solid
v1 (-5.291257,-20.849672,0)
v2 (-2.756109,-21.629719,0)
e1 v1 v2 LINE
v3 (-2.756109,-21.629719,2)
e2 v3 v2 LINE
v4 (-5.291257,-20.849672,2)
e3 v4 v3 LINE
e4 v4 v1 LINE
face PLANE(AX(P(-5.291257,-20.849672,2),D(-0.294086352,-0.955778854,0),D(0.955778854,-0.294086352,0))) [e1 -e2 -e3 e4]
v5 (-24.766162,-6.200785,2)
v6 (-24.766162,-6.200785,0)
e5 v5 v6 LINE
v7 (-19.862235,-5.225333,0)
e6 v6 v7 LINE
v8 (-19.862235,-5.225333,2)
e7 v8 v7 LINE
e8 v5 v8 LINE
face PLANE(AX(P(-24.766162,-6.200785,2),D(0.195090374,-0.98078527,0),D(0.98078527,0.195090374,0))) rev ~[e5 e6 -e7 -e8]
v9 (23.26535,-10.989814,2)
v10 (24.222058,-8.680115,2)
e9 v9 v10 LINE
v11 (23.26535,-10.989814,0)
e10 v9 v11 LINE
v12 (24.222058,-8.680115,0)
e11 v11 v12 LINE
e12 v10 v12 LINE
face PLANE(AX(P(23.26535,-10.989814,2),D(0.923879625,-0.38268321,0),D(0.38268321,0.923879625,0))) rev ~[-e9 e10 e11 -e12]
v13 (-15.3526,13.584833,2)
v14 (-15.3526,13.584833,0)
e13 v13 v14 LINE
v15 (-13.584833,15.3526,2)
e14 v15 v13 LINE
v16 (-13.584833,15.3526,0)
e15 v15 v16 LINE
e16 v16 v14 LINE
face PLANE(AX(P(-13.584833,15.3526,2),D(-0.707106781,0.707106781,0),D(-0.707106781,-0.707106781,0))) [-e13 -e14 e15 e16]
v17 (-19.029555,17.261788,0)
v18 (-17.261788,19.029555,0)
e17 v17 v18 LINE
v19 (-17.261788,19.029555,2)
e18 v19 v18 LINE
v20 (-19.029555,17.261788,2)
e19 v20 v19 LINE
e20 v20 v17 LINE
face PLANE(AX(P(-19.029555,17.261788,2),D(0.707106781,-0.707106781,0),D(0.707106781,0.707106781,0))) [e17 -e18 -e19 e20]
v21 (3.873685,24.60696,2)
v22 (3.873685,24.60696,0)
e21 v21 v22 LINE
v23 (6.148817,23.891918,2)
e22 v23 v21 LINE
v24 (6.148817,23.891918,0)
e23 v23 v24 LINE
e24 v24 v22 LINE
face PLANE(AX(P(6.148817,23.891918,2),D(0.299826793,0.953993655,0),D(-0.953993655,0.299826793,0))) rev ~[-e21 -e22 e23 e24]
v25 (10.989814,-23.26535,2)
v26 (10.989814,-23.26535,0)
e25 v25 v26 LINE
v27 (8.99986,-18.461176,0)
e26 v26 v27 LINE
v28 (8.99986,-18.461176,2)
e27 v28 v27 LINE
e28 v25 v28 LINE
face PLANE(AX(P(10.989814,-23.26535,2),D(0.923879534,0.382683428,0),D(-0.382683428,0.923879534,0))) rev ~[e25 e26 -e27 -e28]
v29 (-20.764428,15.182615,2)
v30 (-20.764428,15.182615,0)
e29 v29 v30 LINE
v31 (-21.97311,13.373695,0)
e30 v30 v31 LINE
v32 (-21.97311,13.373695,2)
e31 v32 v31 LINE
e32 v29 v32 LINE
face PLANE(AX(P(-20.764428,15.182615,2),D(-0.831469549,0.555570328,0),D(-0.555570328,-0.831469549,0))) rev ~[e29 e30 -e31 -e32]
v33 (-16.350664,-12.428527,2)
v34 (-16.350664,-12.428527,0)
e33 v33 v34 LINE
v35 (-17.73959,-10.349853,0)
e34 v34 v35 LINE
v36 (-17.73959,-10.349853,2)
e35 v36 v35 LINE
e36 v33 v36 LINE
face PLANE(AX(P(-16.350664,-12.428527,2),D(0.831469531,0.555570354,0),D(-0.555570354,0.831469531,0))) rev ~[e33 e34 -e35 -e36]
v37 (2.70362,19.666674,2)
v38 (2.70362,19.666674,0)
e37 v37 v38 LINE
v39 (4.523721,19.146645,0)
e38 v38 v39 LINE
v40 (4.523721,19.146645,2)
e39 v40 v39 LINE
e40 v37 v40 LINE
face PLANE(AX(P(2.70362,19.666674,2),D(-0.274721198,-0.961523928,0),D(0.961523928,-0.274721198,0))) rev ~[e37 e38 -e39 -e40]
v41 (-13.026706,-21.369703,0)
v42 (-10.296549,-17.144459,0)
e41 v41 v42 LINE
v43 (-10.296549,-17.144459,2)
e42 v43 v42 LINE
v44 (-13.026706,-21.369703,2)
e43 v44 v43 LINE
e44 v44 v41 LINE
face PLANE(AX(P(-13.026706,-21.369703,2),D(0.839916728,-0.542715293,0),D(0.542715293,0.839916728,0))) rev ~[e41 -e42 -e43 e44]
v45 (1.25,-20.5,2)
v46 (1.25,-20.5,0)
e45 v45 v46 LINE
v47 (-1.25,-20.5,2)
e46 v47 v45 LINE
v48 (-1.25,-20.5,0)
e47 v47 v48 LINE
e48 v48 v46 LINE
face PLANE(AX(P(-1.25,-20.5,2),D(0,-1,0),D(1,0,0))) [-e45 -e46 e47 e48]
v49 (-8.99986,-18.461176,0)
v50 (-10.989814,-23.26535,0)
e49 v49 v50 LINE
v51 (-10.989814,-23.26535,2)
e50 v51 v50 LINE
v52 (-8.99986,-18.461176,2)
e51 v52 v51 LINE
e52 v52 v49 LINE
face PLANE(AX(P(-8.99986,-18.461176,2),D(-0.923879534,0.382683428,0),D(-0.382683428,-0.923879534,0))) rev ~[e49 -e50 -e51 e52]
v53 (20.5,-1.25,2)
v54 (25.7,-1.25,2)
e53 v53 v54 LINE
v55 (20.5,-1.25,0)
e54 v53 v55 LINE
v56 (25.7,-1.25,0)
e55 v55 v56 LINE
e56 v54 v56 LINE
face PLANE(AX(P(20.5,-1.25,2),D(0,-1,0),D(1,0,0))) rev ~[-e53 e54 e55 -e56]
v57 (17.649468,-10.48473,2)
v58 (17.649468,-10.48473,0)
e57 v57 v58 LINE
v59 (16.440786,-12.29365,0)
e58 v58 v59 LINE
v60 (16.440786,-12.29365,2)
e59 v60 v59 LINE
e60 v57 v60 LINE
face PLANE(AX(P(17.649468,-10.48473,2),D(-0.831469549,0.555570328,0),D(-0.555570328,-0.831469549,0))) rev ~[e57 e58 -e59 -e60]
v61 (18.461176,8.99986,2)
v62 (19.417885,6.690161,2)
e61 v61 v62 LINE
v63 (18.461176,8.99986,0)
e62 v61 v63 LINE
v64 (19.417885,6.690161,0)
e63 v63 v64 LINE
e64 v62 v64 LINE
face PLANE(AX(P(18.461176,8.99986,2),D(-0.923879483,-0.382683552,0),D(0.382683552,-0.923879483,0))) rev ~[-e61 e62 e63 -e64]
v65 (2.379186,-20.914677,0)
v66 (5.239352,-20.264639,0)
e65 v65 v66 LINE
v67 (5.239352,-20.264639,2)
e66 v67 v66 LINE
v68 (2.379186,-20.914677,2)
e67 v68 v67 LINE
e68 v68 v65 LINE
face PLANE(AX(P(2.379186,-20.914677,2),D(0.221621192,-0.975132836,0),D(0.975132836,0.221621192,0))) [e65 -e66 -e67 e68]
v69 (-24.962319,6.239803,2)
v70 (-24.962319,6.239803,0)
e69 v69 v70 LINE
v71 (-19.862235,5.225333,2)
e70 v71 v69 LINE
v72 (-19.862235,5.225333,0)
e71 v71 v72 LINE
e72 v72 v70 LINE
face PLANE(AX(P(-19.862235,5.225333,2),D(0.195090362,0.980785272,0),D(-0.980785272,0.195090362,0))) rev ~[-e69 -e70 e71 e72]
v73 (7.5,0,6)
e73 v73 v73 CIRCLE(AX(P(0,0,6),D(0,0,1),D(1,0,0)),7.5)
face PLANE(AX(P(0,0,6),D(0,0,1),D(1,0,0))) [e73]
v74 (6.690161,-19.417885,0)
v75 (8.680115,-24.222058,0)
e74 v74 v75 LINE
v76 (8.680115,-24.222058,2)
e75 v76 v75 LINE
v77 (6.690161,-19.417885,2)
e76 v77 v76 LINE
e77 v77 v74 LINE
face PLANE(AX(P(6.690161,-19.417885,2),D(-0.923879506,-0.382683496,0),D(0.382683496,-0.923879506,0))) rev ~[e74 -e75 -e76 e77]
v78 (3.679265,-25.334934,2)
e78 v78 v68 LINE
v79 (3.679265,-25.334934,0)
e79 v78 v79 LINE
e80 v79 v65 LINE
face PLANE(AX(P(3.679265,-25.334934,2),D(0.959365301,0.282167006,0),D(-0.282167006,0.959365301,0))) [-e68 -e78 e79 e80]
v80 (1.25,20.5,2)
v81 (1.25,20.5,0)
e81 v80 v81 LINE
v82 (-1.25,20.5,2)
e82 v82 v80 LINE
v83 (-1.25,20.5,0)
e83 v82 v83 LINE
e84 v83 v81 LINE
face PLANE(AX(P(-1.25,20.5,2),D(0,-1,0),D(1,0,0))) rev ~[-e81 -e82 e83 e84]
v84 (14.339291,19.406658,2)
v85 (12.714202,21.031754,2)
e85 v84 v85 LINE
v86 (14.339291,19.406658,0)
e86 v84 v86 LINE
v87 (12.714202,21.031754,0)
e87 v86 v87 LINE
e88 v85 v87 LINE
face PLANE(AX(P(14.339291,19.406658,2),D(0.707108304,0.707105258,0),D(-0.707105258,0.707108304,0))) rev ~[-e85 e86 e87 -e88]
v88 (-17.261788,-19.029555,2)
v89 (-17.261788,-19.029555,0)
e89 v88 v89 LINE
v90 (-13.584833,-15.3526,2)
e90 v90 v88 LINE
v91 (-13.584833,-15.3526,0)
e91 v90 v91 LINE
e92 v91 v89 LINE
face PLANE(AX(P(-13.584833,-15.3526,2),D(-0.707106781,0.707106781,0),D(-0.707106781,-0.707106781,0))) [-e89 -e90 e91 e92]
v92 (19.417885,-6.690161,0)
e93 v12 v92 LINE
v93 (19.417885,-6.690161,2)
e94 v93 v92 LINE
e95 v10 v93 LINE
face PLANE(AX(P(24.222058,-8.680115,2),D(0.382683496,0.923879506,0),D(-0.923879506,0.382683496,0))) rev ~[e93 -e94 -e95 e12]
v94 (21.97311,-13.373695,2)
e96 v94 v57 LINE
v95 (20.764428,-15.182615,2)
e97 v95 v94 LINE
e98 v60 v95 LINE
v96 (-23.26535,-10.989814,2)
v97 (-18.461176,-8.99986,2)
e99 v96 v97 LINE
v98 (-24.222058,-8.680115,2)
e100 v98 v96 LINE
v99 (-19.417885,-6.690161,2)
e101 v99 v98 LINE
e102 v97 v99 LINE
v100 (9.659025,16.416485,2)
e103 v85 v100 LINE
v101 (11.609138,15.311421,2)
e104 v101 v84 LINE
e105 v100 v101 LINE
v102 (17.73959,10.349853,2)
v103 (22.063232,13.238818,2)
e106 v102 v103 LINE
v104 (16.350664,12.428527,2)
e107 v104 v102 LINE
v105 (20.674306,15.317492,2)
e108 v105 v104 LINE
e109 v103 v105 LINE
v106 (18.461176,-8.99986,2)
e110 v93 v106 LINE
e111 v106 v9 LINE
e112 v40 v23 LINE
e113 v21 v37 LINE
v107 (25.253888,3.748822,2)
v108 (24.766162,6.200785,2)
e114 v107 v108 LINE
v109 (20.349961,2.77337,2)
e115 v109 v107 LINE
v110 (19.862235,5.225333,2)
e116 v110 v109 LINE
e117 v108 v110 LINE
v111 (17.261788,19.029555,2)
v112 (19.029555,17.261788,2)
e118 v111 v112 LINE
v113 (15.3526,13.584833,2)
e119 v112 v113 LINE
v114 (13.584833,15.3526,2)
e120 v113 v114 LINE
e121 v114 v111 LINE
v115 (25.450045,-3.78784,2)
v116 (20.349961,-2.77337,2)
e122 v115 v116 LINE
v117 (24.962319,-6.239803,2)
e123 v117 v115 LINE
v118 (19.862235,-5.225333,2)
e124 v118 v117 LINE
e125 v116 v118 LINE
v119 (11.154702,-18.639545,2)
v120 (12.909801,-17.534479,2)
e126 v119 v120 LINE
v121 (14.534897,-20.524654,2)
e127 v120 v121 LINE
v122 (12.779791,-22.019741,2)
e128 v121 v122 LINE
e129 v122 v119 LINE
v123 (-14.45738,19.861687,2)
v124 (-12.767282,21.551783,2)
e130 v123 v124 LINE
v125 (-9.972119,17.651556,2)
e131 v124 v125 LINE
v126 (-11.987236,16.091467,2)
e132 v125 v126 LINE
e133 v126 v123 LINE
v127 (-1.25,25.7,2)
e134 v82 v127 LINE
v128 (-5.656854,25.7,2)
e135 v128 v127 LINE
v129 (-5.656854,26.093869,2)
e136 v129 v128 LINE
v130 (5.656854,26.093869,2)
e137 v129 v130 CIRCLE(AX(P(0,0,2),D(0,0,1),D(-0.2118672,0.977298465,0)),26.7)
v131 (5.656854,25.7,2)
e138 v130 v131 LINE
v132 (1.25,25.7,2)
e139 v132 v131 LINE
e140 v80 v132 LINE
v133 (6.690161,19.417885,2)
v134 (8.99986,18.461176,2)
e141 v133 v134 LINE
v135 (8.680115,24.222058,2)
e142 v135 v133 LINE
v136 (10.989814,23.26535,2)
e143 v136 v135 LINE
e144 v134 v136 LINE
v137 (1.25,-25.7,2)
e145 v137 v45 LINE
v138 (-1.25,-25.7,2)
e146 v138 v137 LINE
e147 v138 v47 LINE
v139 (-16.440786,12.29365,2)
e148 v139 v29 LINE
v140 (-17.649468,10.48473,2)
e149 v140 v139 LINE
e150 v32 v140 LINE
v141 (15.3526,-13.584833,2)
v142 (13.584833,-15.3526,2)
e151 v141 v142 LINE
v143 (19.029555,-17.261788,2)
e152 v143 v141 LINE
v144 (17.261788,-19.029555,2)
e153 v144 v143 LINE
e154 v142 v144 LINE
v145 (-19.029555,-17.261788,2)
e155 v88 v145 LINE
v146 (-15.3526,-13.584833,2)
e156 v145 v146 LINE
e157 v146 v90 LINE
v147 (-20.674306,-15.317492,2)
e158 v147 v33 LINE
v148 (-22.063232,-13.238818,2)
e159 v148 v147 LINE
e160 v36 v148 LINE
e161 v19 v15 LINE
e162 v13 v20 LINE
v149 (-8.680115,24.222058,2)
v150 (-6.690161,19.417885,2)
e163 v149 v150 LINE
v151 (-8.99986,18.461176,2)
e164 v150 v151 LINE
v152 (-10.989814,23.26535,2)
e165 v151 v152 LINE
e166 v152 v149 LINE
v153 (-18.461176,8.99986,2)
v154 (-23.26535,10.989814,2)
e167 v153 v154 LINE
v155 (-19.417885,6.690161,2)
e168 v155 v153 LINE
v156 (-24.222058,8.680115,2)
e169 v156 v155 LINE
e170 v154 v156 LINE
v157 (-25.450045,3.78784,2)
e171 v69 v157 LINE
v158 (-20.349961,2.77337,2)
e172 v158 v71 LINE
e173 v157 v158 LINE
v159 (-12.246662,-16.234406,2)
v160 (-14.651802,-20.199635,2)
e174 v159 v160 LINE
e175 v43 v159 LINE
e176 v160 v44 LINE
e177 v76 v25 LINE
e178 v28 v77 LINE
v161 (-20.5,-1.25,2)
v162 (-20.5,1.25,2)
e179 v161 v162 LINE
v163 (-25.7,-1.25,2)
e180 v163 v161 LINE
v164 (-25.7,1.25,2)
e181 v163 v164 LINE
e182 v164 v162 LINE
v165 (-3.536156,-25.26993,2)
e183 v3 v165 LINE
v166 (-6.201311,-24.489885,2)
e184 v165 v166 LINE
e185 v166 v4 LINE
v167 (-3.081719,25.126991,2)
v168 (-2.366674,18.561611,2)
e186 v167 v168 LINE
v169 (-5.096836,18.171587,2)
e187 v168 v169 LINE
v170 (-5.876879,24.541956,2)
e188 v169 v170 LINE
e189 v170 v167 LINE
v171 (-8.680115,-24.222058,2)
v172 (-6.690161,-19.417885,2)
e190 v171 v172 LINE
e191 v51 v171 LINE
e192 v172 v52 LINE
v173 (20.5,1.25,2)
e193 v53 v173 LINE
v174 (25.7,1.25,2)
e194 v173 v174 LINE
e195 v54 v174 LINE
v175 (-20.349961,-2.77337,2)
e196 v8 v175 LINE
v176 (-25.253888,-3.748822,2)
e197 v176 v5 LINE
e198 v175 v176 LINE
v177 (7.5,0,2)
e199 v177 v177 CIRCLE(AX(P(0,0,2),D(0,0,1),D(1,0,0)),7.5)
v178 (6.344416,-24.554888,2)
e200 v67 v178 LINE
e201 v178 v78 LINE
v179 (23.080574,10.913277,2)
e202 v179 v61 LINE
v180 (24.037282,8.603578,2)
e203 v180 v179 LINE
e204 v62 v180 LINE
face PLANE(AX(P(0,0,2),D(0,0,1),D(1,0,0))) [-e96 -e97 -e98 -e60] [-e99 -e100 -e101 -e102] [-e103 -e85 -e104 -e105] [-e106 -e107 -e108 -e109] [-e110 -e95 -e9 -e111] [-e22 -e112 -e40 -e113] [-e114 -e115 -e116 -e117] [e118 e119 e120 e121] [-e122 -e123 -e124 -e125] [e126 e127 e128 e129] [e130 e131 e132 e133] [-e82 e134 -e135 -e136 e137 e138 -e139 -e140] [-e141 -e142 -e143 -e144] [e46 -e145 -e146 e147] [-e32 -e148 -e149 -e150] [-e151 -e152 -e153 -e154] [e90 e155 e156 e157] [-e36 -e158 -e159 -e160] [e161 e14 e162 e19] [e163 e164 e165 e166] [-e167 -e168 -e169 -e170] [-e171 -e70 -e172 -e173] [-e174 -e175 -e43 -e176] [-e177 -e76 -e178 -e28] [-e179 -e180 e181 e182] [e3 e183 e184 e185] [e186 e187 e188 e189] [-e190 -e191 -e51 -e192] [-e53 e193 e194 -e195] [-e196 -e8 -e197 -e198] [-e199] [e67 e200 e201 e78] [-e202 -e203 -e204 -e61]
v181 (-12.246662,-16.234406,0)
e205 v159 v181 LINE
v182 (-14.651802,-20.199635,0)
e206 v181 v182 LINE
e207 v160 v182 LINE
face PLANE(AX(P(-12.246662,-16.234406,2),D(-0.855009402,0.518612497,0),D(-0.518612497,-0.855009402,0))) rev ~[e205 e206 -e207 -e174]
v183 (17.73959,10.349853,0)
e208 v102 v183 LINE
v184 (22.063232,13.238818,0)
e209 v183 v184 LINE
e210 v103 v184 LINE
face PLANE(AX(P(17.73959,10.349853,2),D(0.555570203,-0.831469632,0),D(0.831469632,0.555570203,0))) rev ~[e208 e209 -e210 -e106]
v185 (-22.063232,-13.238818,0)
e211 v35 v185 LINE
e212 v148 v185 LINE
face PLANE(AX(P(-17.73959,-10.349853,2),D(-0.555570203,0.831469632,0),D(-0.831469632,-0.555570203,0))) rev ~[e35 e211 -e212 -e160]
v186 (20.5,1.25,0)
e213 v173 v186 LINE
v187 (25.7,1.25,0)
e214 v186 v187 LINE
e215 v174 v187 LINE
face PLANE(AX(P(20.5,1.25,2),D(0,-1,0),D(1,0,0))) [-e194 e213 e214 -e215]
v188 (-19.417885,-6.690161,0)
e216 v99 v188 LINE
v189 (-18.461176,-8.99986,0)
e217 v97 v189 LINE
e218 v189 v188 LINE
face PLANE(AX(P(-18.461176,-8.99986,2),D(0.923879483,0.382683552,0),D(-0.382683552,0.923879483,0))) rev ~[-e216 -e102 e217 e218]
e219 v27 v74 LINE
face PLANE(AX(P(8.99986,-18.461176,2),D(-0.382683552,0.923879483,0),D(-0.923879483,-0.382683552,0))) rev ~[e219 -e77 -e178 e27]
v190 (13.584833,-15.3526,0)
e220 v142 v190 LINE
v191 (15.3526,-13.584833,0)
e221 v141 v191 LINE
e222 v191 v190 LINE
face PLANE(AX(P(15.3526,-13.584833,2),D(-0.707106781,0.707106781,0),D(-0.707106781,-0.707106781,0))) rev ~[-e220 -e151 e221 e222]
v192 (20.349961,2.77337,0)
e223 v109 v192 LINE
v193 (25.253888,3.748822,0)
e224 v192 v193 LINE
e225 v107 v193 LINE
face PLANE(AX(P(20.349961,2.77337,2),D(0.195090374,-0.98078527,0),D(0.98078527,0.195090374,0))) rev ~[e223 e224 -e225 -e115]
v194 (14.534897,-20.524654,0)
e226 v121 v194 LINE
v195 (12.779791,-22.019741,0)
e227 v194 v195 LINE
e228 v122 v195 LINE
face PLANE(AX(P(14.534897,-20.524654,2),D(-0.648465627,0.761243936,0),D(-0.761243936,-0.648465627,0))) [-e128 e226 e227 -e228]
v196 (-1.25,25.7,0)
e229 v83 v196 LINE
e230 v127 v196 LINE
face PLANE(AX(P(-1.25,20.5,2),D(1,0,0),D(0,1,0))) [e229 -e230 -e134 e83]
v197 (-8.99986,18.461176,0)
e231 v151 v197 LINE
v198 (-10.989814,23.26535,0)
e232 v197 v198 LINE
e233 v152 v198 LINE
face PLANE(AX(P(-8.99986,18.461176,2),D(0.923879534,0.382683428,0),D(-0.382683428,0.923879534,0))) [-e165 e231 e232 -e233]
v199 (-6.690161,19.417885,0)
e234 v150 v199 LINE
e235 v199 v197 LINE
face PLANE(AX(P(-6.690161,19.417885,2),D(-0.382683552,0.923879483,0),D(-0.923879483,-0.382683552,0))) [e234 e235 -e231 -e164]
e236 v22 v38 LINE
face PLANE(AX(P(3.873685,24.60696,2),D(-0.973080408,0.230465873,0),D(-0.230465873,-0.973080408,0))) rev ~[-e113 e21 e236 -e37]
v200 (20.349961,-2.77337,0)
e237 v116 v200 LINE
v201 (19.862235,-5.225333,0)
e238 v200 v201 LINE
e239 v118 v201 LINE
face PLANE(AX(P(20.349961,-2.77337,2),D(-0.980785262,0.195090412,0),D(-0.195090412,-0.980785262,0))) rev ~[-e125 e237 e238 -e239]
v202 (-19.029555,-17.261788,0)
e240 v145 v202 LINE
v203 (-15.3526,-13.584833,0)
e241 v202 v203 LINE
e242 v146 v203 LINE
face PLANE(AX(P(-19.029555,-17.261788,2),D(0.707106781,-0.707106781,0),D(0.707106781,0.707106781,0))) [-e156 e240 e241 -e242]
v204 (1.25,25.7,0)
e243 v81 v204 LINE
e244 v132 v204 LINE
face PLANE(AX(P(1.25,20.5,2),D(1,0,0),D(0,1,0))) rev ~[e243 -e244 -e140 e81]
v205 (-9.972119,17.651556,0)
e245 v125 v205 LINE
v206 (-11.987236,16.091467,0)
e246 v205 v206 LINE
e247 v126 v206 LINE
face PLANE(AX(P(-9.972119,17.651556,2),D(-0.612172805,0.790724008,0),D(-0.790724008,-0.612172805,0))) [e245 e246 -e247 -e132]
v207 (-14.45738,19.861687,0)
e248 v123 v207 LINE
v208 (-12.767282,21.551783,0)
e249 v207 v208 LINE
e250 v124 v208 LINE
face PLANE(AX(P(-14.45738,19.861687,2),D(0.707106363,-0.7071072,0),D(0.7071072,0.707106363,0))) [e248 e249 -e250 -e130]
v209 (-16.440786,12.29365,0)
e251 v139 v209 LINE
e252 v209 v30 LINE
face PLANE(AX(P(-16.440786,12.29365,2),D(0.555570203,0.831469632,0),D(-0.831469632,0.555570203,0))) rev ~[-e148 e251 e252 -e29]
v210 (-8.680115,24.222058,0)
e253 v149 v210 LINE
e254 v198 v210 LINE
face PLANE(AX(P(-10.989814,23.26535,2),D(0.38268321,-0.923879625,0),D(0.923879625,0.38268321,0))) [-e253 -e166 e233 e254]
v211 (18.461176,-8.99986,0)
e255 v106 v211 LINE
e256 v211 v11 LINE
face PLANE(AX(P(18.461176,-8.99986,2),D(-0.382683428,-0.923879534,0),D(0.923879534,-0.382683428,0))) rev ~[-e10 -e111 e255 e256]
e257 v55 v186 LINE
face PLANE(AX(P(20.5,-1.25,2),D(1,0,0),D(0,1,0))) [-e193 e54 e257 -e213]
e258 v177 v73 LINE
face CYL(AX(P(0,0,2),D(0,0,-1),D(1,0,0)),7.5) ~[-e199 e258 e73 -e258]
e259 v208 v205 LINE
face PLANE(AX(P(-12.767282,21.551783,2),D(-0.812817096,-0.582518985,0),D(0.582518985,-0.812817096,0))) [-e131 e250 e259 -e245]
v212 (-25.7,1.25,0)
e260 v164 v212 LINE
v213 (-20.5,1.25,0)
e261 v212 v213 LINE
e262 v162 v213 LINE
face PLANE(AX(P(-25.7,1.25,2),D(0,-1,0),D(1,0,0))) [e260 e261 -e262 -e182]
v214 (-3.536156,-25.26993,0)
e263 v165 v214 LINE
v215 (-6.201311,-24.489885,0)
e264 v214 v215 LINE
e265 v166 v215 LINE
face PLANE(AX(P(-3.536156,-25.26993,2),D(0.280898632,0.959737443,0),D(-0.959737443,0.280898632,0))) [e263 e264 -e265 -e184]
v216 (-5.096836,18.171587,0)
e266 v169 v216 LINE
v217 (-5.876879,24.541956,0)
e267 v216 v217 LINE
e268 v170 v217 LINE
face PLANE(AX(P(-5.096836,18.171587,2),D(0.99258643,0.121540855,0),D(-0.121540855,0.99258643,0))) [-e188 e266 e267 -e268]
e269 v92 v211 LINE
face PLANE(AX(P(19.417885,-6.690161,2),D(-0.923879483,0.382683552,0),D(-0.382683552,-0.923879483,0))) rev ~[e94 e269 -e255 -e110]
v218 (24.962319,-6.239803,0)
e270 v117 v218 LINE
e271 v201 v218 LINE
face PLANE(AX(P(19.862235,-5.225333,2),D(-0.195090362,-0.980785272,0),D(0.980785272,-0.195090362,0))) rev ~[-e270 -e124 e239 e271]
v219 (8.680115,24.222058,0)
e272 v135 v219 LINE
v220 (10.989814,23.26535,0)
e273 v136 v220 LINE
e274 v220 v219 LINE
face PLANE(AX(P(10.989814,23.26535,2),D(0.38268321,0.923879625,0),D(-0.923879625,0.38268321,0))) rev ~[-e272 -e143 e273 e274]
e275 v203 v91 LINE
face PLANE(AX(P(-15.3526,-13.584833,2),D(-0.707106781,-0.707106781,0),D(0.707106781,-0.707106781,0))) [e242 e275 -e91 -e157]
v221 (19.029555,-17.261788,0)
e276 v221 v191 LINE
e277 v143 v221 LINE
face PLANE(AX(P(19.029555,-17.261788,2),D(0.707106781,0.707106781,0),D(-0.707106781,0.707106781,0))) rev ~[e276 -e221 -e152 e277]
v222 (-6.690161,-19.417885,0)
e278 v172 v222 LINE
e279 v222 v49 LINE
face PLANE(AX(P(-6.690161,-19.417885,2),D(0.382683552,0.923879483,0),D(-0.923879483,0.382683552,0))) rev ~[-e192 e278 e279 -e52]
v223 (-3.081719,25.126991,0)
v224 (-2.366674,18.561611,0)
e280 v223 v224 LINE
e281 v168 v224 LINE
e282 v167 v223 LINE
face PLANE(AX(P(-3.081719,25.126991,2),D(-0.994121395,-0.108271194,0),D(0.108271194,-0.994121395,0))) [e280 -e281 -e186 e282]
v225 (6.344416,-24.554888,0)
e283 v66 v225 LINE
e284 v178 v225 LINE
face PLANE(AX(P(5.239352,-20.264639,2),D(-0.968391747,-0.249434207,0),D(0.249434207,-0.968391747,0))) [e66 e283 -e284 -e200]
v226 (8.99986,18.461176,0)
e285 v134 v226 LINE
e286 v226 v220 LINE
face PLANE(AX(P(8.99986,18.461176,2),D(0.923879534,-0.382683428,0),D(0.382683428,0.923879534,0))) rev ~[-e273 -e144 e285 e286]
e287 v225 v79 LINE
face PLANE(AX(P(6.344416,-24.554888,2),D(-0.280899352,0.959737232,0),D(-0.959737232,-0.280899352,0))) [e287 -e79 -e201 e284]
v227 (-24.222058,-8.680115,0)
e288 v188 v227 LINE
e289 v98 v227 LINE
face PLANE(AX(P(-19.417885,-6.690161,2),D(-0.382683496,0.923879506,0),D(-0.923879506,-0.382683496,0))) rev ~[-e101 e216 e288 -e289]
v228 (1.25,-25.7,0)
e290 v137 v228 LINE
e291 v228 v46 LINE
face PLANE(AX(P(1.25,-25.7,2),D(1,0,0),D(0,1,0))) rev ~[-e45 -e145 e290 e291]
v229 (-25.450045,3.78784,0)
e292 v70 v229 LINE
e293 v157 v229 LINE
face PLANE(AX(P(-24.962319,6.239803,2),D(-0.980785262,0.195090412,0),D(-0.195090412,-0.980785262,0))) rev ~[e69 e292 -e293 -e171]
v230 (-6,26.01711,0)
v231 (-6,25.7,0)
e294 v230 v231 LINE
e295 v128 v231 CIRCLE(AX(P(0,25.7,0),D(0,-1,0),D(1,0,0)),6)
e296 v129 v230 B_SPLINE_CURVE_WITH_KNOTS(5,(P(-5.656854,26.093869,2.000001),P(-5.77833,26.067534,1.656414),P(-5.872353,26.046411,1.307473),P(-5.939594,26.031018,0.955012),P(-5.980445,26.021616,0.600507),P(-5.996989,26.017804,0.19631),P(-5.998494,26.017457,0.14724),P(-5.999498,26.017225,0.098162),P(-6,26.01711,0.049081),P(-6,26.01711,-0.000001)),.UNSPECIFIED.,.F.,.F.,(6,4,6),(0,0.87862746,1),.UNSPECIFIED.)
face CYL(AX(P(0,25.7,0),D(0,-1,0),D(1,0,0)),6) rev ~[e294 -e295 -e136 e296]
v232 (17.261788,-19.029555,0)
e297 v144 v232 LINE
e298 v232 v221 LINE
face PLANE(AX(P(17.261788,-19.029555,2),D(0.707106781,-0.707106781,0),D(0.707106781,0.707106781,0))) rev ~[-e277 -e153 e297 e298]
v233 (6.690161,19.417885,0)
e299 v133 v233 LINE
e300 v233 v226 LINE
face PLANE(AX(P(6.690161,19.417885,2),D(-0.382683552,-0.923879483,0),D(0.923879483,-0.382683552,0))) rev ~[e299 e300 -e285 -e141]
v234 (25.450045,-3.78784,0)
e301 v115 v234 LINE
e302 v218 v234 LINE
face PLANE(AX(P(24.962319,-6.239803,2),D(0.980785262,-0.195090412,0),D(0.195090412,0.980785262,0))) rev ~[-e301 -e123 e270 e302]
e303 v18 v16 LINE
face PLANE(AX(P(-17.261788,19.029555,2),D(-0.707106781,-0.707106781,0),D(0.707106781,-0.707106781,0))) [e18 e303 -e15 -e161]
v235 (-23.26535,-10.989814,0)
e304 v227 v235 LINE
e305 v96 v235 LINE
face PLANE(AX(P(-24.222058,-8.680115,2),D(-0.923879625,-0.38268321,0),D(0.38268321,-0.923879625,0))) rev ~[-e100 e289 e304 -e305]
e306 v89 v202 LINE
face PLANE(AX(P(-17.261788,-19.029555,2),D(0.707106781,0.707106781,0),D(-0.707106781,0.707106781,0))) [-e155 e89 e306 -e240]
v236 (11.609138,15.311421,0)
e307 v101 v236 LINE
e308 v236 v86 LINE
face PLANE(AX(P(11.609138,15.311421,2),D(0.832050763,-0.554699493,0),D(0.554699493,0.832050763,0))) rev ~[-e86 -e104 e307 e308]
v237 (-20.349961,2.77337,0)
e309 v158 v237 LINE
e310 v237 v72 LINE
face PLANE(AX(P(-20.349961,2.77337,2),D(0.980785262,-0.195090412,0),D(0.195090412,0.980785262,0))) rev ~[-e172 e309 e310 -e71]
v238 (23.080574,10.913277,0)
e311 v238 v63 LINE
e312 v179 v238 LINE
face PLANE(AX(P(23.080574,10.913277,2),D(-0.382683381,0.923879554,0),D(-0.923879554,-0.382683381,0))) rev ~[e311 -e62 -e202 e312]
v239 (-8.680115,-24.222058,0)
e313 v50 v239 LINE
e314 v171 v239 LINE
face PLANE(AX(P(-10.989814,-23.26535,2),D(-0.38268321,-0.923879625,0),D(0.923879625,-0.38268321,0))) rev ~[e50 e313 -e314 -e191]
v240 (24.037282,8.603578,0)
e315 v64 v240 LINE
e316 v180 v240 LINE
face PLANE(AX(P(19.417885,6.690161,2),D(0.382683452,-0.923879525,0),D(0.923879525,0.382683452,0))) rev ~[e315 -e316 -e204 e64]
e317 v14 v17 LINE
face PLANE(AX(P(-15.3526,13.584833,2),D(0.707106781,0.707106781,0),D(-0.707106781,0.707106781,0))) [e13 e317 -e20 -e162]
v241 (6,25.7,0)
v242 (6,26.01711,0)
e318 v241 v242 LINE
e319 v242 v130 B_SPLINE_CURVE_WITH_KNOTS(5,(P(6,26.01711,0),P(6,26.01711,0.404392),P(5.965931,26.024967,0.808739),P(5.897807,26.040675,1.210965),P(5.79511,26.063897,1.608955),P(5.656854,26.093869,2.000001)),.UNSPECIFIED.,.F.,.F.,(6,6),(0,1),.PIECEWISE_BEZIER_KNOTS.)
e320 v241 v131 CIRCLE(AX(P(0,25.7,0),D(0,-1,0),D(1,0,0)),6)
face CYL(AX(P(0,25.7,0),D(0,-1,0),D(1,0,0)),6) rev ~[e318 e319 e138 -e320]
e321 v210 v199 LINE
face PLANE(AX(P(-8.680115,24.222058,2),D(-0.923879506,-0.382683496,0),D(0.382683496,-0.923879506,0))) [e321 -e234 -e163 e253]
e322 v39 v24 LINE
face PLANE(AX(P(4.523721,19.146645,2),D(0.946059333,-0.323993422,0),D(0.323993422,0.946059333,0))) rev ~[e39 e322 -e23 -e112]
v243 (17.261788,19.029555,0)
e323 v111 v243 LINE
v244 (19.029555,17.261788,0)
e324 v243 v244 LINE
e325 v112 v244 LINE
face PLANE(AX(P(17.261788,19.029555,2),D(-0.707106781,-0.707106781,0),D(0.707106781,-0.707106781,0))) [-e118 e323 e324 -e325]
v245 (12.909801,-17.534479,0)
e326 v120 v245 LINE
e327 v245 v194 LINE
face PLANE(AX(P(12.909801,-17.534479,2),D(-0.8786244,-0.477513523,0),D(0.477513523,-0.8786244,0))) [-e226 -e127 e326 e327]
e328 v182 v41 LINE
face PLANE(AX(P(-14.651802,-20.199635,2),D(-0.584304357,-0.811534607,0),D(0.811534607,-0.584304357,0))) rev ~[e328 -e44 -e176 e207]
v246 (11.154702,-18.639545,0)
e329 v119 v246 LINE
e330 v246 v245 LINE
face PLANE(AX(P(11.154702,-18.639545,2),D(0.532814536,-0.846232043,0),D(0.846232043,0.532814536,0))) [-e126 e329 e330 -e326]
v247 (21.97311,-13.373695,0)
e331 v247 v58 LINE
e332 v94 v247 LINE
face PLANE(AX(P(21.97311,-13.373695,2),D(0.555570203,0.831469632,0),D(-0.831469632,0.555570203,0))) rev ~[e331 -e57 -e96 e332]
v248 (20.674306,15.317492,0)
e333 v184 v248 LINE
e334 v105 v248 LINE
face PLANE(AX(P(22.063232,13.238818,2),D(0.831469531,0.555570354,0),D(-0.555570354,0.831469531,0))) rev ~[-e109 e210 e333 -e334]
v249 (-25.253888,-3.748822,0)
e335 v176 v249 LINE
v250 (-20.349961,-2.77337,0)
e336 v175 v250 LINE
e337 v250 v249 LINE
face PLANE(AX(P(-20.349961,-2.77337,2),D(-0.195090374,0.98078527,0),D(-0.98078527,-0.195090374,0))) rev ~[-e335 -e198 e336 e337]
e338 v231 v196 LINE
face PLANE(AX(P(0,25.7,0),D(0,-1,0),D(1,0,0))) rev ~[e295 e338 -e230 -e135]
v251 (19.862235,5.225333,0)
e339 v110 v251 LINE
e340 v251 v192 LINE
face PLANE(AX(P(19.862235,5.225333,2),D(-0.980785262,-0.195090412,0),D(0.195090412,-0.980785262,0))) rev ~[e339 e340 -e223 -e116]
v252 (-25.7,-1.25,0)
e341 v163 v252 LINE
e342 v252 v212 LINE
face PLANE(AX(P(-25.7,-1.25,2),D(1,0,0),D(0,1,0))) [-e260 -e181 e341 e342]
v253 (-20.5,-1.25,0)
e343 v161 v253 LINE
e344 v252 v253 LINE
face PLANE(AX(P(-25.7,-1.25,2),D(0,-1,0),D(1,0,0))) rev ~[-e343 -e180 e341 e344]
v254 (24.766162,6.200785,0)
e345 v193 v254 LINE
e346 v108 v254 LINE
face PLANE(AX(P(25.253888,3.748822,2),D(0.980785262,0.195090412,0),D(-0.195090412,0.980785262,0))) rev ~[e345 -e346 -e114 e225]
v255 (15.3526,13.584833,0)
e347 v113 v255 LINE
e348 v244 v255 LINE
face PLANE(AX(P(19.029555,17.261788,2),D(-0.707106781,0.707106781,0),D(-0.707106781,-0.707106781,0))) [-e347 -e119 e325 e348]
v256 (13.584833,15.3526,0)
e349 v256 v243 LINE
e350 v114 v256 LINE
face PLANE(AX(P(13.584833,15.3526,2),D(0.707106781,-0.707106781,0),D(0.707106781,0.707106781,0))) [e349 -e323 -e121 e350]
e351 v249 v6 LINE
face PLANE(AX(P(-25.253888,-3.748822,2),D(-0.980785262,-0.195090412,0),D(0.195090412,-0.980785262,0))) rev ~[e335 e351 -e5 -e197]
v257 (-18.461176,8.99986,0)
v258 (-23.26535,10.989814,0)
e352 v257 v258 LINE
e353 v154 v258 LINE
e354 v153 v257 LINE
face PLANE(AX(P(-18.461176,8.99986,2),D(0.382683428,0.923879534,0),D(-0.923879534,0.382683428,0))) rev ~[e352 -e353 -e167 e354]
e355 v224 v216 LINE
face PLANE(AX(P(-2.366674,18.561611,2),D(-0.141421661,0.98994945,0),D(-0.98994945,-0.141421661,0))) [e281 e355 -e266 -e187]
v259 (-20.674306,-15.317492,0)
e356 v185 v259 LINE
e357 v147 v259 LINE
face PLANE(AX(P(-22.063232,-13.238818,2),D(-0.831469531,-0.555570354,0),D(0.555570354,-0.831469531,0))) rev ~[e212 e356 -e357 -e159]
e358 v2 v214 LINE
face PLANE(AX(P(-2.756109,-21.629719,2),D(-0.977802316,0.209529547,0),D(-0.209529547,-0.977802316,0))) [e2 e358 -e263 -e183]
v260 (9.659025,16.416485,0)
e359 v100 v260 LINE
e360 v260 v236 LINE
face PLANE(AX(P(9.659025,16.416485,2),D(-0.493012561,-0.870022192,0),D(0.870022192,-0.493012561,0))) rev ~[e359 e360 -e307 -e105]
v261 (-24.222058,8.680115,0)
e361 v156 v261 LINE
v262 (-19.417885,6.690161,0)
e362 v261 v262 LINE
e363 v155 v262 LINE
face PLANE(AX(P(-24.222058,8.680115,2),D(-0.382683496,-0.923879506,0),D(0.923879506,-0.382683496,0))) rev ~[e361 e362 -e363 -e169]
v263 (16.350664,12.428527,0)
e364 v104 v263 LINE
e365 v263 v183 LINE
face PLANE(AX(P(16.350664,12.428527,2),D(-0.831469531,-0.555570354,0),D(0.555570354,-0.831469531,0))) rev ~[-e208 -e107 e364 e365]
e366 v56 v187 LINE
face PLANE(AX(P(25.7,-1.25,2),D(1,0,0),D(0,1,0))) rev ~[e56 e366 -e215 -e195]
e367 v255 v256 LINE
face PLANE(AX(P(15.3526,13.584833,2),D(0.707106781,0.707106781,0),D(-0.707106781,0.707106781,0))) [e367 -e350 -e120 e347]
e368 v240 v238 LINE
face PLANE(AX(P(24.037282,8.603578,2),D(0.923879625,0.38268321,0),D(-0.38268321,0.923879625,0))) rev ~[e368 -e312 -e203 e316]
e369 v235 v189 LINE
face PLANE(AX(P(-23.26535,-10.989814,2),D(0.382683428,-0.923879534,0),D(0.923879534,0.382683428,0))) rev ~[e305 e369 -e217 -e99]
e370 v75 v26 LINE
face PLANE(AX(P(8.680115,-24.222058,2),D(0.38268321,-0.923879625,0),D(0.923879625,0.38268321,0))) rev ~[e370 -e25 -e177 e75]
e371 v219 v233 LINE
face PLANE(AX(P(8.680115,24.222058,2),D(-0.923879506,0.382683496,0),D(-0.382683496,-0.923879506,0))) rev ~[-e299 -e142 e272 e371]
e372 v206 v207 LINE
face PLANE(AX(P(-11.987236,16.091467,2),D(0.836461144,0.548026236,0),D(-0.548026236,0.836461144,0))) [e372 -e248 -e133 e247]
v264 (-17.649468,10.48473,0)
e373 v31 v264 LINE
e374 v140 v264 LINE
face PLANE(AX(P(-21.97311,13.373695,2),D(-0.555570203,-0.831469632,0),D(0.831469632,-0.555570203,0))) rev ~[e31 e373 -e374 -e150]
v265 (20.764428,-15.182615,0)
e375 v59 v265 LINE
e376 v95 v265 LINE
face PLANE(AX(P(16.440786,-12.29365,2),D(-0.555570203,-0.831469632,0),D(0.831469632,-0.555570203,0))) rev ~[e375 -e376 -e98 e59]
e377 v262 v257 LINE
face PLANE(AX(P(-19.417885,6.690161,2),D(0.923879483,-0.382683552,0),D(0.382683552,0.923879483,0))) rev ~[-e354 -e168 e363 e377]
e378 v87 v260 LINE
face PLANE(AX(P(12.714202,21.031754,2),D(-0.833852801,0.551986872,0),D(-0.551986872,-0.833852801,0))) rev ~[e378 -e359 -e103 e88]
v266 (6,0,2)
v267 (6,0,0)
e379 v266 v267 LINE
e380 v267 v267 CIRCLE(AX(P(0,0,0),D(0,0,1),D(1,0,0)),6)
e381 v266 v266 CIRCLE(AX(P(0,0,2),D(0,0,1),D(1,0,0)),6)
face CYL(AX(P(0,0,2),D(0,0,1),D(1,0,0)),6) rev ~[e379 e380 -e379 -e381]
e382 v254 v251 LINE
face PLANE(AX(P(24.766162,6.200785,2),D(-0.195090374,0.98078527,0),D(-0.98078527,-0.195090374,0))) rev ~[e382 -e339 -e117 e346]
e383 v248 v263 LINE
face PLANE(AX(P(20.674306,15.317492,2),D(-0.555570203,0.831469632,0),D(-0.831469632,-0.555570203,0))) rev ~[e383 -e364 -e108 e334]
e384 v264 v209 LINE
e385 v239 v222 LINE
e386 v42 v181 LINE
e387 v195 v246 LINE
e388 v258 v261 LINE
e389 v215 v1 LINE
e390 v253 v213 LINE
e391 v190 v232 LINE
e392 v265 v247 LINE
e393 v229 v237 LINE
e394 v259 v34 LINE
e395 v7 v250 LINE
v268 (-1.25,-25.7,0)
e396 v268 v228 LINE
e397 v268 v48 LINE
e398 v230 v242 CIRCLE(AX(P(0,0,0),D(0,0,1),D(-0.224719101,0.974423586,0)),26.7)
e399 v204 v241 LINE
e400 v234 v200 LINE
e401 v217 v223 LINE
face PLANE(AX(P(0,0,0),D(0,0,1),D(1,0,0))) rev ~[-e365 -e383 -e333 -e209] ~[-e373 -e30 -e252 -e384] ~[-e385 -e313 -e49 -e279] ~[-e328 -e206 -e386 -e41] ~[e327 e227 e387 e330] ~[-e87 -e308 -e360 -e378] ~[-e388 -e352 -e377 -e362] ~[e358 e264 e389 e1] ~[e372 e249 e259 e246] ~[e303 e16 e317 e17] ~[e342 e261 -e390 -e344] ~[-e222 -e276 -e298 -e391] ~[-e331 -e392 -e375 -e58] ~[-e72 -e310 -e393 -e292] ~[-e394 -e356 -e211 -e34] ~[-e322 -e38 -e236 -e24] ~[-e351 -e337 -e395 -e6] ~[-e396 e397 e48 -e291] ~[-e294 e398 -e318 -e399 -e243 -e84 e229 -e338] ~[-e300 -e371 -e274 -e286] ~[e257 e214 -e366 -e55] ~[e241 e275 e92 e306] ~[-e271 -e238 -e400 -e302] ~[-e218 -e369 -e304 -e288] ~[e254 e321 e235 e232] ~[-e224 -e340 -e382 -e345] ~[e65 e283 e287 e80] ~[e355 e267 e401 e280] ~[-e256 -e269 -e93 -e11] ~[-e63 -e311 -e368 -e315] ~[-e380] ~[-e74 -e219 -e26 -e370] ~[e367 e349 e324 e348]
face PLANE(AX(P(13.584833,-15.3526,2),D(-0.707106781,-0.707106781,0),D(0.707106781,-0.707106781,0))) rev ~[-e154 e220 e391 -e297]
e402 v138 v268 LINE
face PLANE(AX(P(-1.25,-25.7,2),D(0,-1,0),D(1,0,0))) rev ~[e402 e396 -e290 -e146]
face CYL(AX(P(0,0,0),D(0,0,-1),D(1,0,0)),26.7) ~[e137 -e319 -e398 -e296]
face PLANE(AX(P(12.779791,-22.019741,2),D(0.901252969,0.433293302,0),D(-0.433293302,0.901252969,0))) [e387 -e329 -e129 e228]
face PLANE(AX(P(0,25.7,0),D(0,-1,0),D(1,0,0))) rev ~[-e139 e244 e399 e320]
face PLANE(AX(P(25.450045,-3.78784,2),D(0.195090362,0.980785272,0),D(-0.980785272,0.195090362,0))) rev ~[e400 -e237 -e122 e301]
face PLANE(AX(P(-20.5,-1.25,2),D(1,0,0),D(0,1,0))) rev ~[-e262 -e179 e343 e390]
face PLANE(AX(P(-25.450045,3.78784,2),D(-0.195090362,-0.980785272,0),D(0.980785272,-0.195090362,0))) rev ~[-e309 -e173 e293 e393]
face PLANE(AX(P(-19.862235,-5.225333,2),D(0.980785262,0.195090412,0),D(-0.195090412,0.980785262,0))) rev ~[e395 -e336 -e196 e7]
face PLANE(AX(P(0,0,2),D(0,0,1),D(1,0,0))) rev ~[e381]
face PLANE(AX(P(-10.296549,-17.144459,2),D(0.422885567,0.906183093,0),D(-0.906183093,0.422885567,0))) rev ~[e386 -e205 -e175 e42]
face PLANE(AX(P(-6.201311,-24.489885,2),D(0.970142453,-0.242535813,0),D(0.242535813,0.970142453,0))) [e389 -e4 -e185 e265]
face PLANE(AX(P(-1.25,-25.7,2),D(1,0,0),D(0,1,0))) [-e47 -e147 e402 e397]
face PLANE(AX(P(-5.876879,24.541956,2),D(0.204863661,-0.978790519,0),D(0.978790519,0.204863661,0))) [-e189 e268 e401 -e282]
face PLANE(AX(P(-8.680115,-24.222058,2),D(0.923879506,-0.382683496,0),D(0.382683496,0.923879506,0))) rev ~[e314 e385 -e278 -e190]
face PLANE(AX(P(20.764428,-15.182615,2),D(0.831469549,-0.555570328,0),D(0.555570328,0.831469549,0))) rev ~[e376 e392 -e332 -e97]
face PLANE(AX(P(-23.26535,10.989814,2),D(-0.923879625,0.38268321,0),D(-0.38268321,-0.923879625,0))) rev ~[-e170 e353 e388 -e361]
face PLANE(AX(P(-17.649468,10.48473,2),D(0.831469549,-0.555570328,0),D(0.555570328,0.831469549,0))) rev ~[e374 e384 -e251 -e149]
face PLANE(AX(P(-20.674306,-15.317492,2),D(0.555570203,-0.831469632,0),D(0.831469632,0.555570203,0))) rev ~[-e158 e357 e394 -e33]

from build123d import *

# Parameters (mm, degrees)
SKETCH_R        = 26.7
PAD_DEPTH       = 2
SKETCH001_W     = 5.2
SKETCH001_H     = 2.5
SKETCH001_W_2   = 2.5
SKETCH001_H_2   = 5.2
POCKET_DEPTH    = 2.001
SKETCH002_R     = 6
POCKET001_DEPTH = 2.001
SKETCH003_R     = 7.5
PAD001_DEPTH    = 4
SKETCH004_R     = 6
POCKET002_DEPTH = 1.001
SKETCH005_W     = 2
SKETCH005_H     = 2.479431
SKETCH005_H_2   = 2.486512
POCKET003_DEPTH = 1


with BuildPart() as part:
    # Sketch → Pad (new body)
    with BuildSketch(Plane.XY):
        Circle(SKETCH_R)
    extrude(amount=PAD_DEPTH)

    # Sketch001 → Pocket (cut, through all)
    with BuildSketch(Plane.XY.offset(2)):
        with Locations((-23.1, 0)):
            Rectangle(SKETCH001_W, SKETCH001_H)
        with Locations((23.1, 0)):
            Rectangle(SKETCH001_W, SKETCH001_H)
        with Locations((0, 23.1)):
            Rectangle(SKETCH001_W_2, SKETCH001_H_2)
        with Locations((0, -23.1)):
            Rectangle(SKETCH001_W_2, SKETCH001_H_2)
        Polygon((-19.029555, 17.261788), (-17.261788, 19.029555), (-13.584833, 15.3526), (-15.3526, 13.584833), align=None)
        Polygon((17.261788, 19.029555), (19.029555, 17.261788), (15.3526, 13.584833), (13.584833, 15.3526), align=None)
        Polygon((17.261788, -19.029555), (19.029555, -17.261788), (15.3526, -13.584833), (13.584833, -15.3526), align=None)
        Polygon((-17.261788, -19.029555), (-19.029555, -17.261788), (-15.3526, -13.584833), (-13.584833, -15.3526), align=None)
        Polygon((8.680115, 24.222058), (6.690161, 19.417885), (8.99986, 18.461176), (10.989814, 23.26535), align=None)
        Polygon((18.461176, 8.99986), (19.417885, 6.690161), (24.037282, 8.603578), (23.080574, 10.913277), align=None)
        Polygon((-23.26535, 10.989814), (-24.222058, 8.680115), (-19.417885, 6.690161), (-18.461176, 8.99986), align=None)
        Polygon((-24.222058, -8.680115), (-23.26535, -10.989814), (-18.461176, -8.99986), (-19.417885, -6.690161), align=None)
        Polygon((-10.989814, -23.26535), (-8.680115, -24.222058), (-6.690161, -19.417885), (-8.99986, -18.461176), align=None)
        Polygon((6.690161, -19.417885), (8.680115, -24.222058), (10.989814, -23.26535), (8.99986, -18.461176), align=None)
        Polygon((19.417885, -6.690161), (18.461176, -8.99986), (23.26535, -10.989814), (24.222058, -8.680115), align=None)
        Polygon((-10.989814, 23.26535), (-8.680115, 24.222058), (-6.690161, 19.417885), (-8.99986, 18.461176), align=None)
        Polygon((19.862235, 5.225333), (20.349961, 2.77337), (25.253888, 3.748822), (24.766162, 6.200785), align=None)
        Polygon((-25.253888, -3.748822), (-24.766162, -6.200785), (-19.862235, -5.225333), (-20.349961, -2.77337), align=None)
        Polygon((-24.962319, 6.239803), (-25.450045, 3.78784), (-20.349961, 2.77337), (-19.862235, 5.225333), align=None)
        Polygon((-20.764428, 15.182615), (-21.97311, 13.373695), (-17.649468, 10.48473), (-16.440786, 12.29365), align=None)
        Polygon((-14.45738, 19.861687), (-12.767282, 21.551783), (-9.972119, 17.651556), (-11.987236, 16.091467), align=None)
        Polygon((-5.876879, 24.541956), (-3.081719, 25.126991), (-2.366674, 18.561611), (-5.096836, 18.171587), align=None)
        Polygon((3.873685, 24.60696), (2.70362, 19.666674), (4.523721, 19.146645), (6.148817, 23.891918), align=None)
        Polygon((12.714202, 21.031754), (9.659025, 16.416485), (11.609138, 15.311421), (14.339291, 19.406658), align=None)
        Polygon((16.350664, 12.428527), (17.73959, 10.349853), (22.063232, 13.238818), (20.674306, 15.317492), align=None)
        Polygon((20.349961, -2.77337), (19.862235, -5.225333), (24.962319, -6.239803), (25.450045, -3.78784), align=None)
        Polygon((17.649468, -10.48473), (16.440786, -12.29365), (20.764428, -15.182615), (21.97311, -13.373695), align=None)
        Polygon((11.154702, -18.639545), (12.909801, -17.534479), (14.534897, -20.524654), (12.779791, -22.019741), align=None)
        Polygon((2.379186, -20.914677), (5.239352, -20.264639), (6.344416, -24.554888), (3.679265, -25.334934), align=None)
        Polygon((-2.756109, -21.629719), (-3.536156, -25.26993), (-6.201311, -24.489885), (-5.291257, -20.849672), align=None)
        Polygon((-14.651802, -20.199635), (-13.026706, -21.369703), (-10.296549, -17.144459), (-12.246662, -16.234406), align=None)
        Polygon((-22.063232, -13.238818), (-20.674306, -15.317492), (-16.350664, -12.428527), (-17.73959, -10.349853), align=None)
    extrude(amount=-POCKET_DEPTH, mode=Mode.SUBTRACT)

    # Sketch002 → Pocket001 (cut, through all)
    with BuildSketch(Plane.XY.offset(2)):
        Circle(SKETCH002_R)
    extrude(amount=-POCKET001_DEPTH, mode=Mode.SUBTRACT)

    # Sketch003 → Pad001 (new body)
    with BuildSketch(Plane.XY.offset(2)):
        Circle(SKETCH003_R)
    extrude(amount=PAD001_DEPTH)

    # Sketch004 → Pocket002 (cut, through all)
    with BuildSketch(Plane.XZ.offset(-25.7)):
        Circle(SKETCH004_R)
    extrude(amount=-POCKET002_DEPTH, mode=Mode.SUBTRACT)

    # Sketch005 → Pocket003 (cut)
    with BuildSketch(Plane(origin=(0, 25.7, 0), x_dir=(-1, 0, 0), z_dir=(0, 1, 0))):
        with Locations((0, -6.731688)):
            Rectangle(SKETCH005_W, SKETCH005_H)
        with Locations((0, 6.735229)):
            Rectangle(SKETCH005_W, SKETCH005_H_2)
    extrude(amount=-POCKET003_DEPTH, mode=Mode.SUBTRACT)


solid = part.part
